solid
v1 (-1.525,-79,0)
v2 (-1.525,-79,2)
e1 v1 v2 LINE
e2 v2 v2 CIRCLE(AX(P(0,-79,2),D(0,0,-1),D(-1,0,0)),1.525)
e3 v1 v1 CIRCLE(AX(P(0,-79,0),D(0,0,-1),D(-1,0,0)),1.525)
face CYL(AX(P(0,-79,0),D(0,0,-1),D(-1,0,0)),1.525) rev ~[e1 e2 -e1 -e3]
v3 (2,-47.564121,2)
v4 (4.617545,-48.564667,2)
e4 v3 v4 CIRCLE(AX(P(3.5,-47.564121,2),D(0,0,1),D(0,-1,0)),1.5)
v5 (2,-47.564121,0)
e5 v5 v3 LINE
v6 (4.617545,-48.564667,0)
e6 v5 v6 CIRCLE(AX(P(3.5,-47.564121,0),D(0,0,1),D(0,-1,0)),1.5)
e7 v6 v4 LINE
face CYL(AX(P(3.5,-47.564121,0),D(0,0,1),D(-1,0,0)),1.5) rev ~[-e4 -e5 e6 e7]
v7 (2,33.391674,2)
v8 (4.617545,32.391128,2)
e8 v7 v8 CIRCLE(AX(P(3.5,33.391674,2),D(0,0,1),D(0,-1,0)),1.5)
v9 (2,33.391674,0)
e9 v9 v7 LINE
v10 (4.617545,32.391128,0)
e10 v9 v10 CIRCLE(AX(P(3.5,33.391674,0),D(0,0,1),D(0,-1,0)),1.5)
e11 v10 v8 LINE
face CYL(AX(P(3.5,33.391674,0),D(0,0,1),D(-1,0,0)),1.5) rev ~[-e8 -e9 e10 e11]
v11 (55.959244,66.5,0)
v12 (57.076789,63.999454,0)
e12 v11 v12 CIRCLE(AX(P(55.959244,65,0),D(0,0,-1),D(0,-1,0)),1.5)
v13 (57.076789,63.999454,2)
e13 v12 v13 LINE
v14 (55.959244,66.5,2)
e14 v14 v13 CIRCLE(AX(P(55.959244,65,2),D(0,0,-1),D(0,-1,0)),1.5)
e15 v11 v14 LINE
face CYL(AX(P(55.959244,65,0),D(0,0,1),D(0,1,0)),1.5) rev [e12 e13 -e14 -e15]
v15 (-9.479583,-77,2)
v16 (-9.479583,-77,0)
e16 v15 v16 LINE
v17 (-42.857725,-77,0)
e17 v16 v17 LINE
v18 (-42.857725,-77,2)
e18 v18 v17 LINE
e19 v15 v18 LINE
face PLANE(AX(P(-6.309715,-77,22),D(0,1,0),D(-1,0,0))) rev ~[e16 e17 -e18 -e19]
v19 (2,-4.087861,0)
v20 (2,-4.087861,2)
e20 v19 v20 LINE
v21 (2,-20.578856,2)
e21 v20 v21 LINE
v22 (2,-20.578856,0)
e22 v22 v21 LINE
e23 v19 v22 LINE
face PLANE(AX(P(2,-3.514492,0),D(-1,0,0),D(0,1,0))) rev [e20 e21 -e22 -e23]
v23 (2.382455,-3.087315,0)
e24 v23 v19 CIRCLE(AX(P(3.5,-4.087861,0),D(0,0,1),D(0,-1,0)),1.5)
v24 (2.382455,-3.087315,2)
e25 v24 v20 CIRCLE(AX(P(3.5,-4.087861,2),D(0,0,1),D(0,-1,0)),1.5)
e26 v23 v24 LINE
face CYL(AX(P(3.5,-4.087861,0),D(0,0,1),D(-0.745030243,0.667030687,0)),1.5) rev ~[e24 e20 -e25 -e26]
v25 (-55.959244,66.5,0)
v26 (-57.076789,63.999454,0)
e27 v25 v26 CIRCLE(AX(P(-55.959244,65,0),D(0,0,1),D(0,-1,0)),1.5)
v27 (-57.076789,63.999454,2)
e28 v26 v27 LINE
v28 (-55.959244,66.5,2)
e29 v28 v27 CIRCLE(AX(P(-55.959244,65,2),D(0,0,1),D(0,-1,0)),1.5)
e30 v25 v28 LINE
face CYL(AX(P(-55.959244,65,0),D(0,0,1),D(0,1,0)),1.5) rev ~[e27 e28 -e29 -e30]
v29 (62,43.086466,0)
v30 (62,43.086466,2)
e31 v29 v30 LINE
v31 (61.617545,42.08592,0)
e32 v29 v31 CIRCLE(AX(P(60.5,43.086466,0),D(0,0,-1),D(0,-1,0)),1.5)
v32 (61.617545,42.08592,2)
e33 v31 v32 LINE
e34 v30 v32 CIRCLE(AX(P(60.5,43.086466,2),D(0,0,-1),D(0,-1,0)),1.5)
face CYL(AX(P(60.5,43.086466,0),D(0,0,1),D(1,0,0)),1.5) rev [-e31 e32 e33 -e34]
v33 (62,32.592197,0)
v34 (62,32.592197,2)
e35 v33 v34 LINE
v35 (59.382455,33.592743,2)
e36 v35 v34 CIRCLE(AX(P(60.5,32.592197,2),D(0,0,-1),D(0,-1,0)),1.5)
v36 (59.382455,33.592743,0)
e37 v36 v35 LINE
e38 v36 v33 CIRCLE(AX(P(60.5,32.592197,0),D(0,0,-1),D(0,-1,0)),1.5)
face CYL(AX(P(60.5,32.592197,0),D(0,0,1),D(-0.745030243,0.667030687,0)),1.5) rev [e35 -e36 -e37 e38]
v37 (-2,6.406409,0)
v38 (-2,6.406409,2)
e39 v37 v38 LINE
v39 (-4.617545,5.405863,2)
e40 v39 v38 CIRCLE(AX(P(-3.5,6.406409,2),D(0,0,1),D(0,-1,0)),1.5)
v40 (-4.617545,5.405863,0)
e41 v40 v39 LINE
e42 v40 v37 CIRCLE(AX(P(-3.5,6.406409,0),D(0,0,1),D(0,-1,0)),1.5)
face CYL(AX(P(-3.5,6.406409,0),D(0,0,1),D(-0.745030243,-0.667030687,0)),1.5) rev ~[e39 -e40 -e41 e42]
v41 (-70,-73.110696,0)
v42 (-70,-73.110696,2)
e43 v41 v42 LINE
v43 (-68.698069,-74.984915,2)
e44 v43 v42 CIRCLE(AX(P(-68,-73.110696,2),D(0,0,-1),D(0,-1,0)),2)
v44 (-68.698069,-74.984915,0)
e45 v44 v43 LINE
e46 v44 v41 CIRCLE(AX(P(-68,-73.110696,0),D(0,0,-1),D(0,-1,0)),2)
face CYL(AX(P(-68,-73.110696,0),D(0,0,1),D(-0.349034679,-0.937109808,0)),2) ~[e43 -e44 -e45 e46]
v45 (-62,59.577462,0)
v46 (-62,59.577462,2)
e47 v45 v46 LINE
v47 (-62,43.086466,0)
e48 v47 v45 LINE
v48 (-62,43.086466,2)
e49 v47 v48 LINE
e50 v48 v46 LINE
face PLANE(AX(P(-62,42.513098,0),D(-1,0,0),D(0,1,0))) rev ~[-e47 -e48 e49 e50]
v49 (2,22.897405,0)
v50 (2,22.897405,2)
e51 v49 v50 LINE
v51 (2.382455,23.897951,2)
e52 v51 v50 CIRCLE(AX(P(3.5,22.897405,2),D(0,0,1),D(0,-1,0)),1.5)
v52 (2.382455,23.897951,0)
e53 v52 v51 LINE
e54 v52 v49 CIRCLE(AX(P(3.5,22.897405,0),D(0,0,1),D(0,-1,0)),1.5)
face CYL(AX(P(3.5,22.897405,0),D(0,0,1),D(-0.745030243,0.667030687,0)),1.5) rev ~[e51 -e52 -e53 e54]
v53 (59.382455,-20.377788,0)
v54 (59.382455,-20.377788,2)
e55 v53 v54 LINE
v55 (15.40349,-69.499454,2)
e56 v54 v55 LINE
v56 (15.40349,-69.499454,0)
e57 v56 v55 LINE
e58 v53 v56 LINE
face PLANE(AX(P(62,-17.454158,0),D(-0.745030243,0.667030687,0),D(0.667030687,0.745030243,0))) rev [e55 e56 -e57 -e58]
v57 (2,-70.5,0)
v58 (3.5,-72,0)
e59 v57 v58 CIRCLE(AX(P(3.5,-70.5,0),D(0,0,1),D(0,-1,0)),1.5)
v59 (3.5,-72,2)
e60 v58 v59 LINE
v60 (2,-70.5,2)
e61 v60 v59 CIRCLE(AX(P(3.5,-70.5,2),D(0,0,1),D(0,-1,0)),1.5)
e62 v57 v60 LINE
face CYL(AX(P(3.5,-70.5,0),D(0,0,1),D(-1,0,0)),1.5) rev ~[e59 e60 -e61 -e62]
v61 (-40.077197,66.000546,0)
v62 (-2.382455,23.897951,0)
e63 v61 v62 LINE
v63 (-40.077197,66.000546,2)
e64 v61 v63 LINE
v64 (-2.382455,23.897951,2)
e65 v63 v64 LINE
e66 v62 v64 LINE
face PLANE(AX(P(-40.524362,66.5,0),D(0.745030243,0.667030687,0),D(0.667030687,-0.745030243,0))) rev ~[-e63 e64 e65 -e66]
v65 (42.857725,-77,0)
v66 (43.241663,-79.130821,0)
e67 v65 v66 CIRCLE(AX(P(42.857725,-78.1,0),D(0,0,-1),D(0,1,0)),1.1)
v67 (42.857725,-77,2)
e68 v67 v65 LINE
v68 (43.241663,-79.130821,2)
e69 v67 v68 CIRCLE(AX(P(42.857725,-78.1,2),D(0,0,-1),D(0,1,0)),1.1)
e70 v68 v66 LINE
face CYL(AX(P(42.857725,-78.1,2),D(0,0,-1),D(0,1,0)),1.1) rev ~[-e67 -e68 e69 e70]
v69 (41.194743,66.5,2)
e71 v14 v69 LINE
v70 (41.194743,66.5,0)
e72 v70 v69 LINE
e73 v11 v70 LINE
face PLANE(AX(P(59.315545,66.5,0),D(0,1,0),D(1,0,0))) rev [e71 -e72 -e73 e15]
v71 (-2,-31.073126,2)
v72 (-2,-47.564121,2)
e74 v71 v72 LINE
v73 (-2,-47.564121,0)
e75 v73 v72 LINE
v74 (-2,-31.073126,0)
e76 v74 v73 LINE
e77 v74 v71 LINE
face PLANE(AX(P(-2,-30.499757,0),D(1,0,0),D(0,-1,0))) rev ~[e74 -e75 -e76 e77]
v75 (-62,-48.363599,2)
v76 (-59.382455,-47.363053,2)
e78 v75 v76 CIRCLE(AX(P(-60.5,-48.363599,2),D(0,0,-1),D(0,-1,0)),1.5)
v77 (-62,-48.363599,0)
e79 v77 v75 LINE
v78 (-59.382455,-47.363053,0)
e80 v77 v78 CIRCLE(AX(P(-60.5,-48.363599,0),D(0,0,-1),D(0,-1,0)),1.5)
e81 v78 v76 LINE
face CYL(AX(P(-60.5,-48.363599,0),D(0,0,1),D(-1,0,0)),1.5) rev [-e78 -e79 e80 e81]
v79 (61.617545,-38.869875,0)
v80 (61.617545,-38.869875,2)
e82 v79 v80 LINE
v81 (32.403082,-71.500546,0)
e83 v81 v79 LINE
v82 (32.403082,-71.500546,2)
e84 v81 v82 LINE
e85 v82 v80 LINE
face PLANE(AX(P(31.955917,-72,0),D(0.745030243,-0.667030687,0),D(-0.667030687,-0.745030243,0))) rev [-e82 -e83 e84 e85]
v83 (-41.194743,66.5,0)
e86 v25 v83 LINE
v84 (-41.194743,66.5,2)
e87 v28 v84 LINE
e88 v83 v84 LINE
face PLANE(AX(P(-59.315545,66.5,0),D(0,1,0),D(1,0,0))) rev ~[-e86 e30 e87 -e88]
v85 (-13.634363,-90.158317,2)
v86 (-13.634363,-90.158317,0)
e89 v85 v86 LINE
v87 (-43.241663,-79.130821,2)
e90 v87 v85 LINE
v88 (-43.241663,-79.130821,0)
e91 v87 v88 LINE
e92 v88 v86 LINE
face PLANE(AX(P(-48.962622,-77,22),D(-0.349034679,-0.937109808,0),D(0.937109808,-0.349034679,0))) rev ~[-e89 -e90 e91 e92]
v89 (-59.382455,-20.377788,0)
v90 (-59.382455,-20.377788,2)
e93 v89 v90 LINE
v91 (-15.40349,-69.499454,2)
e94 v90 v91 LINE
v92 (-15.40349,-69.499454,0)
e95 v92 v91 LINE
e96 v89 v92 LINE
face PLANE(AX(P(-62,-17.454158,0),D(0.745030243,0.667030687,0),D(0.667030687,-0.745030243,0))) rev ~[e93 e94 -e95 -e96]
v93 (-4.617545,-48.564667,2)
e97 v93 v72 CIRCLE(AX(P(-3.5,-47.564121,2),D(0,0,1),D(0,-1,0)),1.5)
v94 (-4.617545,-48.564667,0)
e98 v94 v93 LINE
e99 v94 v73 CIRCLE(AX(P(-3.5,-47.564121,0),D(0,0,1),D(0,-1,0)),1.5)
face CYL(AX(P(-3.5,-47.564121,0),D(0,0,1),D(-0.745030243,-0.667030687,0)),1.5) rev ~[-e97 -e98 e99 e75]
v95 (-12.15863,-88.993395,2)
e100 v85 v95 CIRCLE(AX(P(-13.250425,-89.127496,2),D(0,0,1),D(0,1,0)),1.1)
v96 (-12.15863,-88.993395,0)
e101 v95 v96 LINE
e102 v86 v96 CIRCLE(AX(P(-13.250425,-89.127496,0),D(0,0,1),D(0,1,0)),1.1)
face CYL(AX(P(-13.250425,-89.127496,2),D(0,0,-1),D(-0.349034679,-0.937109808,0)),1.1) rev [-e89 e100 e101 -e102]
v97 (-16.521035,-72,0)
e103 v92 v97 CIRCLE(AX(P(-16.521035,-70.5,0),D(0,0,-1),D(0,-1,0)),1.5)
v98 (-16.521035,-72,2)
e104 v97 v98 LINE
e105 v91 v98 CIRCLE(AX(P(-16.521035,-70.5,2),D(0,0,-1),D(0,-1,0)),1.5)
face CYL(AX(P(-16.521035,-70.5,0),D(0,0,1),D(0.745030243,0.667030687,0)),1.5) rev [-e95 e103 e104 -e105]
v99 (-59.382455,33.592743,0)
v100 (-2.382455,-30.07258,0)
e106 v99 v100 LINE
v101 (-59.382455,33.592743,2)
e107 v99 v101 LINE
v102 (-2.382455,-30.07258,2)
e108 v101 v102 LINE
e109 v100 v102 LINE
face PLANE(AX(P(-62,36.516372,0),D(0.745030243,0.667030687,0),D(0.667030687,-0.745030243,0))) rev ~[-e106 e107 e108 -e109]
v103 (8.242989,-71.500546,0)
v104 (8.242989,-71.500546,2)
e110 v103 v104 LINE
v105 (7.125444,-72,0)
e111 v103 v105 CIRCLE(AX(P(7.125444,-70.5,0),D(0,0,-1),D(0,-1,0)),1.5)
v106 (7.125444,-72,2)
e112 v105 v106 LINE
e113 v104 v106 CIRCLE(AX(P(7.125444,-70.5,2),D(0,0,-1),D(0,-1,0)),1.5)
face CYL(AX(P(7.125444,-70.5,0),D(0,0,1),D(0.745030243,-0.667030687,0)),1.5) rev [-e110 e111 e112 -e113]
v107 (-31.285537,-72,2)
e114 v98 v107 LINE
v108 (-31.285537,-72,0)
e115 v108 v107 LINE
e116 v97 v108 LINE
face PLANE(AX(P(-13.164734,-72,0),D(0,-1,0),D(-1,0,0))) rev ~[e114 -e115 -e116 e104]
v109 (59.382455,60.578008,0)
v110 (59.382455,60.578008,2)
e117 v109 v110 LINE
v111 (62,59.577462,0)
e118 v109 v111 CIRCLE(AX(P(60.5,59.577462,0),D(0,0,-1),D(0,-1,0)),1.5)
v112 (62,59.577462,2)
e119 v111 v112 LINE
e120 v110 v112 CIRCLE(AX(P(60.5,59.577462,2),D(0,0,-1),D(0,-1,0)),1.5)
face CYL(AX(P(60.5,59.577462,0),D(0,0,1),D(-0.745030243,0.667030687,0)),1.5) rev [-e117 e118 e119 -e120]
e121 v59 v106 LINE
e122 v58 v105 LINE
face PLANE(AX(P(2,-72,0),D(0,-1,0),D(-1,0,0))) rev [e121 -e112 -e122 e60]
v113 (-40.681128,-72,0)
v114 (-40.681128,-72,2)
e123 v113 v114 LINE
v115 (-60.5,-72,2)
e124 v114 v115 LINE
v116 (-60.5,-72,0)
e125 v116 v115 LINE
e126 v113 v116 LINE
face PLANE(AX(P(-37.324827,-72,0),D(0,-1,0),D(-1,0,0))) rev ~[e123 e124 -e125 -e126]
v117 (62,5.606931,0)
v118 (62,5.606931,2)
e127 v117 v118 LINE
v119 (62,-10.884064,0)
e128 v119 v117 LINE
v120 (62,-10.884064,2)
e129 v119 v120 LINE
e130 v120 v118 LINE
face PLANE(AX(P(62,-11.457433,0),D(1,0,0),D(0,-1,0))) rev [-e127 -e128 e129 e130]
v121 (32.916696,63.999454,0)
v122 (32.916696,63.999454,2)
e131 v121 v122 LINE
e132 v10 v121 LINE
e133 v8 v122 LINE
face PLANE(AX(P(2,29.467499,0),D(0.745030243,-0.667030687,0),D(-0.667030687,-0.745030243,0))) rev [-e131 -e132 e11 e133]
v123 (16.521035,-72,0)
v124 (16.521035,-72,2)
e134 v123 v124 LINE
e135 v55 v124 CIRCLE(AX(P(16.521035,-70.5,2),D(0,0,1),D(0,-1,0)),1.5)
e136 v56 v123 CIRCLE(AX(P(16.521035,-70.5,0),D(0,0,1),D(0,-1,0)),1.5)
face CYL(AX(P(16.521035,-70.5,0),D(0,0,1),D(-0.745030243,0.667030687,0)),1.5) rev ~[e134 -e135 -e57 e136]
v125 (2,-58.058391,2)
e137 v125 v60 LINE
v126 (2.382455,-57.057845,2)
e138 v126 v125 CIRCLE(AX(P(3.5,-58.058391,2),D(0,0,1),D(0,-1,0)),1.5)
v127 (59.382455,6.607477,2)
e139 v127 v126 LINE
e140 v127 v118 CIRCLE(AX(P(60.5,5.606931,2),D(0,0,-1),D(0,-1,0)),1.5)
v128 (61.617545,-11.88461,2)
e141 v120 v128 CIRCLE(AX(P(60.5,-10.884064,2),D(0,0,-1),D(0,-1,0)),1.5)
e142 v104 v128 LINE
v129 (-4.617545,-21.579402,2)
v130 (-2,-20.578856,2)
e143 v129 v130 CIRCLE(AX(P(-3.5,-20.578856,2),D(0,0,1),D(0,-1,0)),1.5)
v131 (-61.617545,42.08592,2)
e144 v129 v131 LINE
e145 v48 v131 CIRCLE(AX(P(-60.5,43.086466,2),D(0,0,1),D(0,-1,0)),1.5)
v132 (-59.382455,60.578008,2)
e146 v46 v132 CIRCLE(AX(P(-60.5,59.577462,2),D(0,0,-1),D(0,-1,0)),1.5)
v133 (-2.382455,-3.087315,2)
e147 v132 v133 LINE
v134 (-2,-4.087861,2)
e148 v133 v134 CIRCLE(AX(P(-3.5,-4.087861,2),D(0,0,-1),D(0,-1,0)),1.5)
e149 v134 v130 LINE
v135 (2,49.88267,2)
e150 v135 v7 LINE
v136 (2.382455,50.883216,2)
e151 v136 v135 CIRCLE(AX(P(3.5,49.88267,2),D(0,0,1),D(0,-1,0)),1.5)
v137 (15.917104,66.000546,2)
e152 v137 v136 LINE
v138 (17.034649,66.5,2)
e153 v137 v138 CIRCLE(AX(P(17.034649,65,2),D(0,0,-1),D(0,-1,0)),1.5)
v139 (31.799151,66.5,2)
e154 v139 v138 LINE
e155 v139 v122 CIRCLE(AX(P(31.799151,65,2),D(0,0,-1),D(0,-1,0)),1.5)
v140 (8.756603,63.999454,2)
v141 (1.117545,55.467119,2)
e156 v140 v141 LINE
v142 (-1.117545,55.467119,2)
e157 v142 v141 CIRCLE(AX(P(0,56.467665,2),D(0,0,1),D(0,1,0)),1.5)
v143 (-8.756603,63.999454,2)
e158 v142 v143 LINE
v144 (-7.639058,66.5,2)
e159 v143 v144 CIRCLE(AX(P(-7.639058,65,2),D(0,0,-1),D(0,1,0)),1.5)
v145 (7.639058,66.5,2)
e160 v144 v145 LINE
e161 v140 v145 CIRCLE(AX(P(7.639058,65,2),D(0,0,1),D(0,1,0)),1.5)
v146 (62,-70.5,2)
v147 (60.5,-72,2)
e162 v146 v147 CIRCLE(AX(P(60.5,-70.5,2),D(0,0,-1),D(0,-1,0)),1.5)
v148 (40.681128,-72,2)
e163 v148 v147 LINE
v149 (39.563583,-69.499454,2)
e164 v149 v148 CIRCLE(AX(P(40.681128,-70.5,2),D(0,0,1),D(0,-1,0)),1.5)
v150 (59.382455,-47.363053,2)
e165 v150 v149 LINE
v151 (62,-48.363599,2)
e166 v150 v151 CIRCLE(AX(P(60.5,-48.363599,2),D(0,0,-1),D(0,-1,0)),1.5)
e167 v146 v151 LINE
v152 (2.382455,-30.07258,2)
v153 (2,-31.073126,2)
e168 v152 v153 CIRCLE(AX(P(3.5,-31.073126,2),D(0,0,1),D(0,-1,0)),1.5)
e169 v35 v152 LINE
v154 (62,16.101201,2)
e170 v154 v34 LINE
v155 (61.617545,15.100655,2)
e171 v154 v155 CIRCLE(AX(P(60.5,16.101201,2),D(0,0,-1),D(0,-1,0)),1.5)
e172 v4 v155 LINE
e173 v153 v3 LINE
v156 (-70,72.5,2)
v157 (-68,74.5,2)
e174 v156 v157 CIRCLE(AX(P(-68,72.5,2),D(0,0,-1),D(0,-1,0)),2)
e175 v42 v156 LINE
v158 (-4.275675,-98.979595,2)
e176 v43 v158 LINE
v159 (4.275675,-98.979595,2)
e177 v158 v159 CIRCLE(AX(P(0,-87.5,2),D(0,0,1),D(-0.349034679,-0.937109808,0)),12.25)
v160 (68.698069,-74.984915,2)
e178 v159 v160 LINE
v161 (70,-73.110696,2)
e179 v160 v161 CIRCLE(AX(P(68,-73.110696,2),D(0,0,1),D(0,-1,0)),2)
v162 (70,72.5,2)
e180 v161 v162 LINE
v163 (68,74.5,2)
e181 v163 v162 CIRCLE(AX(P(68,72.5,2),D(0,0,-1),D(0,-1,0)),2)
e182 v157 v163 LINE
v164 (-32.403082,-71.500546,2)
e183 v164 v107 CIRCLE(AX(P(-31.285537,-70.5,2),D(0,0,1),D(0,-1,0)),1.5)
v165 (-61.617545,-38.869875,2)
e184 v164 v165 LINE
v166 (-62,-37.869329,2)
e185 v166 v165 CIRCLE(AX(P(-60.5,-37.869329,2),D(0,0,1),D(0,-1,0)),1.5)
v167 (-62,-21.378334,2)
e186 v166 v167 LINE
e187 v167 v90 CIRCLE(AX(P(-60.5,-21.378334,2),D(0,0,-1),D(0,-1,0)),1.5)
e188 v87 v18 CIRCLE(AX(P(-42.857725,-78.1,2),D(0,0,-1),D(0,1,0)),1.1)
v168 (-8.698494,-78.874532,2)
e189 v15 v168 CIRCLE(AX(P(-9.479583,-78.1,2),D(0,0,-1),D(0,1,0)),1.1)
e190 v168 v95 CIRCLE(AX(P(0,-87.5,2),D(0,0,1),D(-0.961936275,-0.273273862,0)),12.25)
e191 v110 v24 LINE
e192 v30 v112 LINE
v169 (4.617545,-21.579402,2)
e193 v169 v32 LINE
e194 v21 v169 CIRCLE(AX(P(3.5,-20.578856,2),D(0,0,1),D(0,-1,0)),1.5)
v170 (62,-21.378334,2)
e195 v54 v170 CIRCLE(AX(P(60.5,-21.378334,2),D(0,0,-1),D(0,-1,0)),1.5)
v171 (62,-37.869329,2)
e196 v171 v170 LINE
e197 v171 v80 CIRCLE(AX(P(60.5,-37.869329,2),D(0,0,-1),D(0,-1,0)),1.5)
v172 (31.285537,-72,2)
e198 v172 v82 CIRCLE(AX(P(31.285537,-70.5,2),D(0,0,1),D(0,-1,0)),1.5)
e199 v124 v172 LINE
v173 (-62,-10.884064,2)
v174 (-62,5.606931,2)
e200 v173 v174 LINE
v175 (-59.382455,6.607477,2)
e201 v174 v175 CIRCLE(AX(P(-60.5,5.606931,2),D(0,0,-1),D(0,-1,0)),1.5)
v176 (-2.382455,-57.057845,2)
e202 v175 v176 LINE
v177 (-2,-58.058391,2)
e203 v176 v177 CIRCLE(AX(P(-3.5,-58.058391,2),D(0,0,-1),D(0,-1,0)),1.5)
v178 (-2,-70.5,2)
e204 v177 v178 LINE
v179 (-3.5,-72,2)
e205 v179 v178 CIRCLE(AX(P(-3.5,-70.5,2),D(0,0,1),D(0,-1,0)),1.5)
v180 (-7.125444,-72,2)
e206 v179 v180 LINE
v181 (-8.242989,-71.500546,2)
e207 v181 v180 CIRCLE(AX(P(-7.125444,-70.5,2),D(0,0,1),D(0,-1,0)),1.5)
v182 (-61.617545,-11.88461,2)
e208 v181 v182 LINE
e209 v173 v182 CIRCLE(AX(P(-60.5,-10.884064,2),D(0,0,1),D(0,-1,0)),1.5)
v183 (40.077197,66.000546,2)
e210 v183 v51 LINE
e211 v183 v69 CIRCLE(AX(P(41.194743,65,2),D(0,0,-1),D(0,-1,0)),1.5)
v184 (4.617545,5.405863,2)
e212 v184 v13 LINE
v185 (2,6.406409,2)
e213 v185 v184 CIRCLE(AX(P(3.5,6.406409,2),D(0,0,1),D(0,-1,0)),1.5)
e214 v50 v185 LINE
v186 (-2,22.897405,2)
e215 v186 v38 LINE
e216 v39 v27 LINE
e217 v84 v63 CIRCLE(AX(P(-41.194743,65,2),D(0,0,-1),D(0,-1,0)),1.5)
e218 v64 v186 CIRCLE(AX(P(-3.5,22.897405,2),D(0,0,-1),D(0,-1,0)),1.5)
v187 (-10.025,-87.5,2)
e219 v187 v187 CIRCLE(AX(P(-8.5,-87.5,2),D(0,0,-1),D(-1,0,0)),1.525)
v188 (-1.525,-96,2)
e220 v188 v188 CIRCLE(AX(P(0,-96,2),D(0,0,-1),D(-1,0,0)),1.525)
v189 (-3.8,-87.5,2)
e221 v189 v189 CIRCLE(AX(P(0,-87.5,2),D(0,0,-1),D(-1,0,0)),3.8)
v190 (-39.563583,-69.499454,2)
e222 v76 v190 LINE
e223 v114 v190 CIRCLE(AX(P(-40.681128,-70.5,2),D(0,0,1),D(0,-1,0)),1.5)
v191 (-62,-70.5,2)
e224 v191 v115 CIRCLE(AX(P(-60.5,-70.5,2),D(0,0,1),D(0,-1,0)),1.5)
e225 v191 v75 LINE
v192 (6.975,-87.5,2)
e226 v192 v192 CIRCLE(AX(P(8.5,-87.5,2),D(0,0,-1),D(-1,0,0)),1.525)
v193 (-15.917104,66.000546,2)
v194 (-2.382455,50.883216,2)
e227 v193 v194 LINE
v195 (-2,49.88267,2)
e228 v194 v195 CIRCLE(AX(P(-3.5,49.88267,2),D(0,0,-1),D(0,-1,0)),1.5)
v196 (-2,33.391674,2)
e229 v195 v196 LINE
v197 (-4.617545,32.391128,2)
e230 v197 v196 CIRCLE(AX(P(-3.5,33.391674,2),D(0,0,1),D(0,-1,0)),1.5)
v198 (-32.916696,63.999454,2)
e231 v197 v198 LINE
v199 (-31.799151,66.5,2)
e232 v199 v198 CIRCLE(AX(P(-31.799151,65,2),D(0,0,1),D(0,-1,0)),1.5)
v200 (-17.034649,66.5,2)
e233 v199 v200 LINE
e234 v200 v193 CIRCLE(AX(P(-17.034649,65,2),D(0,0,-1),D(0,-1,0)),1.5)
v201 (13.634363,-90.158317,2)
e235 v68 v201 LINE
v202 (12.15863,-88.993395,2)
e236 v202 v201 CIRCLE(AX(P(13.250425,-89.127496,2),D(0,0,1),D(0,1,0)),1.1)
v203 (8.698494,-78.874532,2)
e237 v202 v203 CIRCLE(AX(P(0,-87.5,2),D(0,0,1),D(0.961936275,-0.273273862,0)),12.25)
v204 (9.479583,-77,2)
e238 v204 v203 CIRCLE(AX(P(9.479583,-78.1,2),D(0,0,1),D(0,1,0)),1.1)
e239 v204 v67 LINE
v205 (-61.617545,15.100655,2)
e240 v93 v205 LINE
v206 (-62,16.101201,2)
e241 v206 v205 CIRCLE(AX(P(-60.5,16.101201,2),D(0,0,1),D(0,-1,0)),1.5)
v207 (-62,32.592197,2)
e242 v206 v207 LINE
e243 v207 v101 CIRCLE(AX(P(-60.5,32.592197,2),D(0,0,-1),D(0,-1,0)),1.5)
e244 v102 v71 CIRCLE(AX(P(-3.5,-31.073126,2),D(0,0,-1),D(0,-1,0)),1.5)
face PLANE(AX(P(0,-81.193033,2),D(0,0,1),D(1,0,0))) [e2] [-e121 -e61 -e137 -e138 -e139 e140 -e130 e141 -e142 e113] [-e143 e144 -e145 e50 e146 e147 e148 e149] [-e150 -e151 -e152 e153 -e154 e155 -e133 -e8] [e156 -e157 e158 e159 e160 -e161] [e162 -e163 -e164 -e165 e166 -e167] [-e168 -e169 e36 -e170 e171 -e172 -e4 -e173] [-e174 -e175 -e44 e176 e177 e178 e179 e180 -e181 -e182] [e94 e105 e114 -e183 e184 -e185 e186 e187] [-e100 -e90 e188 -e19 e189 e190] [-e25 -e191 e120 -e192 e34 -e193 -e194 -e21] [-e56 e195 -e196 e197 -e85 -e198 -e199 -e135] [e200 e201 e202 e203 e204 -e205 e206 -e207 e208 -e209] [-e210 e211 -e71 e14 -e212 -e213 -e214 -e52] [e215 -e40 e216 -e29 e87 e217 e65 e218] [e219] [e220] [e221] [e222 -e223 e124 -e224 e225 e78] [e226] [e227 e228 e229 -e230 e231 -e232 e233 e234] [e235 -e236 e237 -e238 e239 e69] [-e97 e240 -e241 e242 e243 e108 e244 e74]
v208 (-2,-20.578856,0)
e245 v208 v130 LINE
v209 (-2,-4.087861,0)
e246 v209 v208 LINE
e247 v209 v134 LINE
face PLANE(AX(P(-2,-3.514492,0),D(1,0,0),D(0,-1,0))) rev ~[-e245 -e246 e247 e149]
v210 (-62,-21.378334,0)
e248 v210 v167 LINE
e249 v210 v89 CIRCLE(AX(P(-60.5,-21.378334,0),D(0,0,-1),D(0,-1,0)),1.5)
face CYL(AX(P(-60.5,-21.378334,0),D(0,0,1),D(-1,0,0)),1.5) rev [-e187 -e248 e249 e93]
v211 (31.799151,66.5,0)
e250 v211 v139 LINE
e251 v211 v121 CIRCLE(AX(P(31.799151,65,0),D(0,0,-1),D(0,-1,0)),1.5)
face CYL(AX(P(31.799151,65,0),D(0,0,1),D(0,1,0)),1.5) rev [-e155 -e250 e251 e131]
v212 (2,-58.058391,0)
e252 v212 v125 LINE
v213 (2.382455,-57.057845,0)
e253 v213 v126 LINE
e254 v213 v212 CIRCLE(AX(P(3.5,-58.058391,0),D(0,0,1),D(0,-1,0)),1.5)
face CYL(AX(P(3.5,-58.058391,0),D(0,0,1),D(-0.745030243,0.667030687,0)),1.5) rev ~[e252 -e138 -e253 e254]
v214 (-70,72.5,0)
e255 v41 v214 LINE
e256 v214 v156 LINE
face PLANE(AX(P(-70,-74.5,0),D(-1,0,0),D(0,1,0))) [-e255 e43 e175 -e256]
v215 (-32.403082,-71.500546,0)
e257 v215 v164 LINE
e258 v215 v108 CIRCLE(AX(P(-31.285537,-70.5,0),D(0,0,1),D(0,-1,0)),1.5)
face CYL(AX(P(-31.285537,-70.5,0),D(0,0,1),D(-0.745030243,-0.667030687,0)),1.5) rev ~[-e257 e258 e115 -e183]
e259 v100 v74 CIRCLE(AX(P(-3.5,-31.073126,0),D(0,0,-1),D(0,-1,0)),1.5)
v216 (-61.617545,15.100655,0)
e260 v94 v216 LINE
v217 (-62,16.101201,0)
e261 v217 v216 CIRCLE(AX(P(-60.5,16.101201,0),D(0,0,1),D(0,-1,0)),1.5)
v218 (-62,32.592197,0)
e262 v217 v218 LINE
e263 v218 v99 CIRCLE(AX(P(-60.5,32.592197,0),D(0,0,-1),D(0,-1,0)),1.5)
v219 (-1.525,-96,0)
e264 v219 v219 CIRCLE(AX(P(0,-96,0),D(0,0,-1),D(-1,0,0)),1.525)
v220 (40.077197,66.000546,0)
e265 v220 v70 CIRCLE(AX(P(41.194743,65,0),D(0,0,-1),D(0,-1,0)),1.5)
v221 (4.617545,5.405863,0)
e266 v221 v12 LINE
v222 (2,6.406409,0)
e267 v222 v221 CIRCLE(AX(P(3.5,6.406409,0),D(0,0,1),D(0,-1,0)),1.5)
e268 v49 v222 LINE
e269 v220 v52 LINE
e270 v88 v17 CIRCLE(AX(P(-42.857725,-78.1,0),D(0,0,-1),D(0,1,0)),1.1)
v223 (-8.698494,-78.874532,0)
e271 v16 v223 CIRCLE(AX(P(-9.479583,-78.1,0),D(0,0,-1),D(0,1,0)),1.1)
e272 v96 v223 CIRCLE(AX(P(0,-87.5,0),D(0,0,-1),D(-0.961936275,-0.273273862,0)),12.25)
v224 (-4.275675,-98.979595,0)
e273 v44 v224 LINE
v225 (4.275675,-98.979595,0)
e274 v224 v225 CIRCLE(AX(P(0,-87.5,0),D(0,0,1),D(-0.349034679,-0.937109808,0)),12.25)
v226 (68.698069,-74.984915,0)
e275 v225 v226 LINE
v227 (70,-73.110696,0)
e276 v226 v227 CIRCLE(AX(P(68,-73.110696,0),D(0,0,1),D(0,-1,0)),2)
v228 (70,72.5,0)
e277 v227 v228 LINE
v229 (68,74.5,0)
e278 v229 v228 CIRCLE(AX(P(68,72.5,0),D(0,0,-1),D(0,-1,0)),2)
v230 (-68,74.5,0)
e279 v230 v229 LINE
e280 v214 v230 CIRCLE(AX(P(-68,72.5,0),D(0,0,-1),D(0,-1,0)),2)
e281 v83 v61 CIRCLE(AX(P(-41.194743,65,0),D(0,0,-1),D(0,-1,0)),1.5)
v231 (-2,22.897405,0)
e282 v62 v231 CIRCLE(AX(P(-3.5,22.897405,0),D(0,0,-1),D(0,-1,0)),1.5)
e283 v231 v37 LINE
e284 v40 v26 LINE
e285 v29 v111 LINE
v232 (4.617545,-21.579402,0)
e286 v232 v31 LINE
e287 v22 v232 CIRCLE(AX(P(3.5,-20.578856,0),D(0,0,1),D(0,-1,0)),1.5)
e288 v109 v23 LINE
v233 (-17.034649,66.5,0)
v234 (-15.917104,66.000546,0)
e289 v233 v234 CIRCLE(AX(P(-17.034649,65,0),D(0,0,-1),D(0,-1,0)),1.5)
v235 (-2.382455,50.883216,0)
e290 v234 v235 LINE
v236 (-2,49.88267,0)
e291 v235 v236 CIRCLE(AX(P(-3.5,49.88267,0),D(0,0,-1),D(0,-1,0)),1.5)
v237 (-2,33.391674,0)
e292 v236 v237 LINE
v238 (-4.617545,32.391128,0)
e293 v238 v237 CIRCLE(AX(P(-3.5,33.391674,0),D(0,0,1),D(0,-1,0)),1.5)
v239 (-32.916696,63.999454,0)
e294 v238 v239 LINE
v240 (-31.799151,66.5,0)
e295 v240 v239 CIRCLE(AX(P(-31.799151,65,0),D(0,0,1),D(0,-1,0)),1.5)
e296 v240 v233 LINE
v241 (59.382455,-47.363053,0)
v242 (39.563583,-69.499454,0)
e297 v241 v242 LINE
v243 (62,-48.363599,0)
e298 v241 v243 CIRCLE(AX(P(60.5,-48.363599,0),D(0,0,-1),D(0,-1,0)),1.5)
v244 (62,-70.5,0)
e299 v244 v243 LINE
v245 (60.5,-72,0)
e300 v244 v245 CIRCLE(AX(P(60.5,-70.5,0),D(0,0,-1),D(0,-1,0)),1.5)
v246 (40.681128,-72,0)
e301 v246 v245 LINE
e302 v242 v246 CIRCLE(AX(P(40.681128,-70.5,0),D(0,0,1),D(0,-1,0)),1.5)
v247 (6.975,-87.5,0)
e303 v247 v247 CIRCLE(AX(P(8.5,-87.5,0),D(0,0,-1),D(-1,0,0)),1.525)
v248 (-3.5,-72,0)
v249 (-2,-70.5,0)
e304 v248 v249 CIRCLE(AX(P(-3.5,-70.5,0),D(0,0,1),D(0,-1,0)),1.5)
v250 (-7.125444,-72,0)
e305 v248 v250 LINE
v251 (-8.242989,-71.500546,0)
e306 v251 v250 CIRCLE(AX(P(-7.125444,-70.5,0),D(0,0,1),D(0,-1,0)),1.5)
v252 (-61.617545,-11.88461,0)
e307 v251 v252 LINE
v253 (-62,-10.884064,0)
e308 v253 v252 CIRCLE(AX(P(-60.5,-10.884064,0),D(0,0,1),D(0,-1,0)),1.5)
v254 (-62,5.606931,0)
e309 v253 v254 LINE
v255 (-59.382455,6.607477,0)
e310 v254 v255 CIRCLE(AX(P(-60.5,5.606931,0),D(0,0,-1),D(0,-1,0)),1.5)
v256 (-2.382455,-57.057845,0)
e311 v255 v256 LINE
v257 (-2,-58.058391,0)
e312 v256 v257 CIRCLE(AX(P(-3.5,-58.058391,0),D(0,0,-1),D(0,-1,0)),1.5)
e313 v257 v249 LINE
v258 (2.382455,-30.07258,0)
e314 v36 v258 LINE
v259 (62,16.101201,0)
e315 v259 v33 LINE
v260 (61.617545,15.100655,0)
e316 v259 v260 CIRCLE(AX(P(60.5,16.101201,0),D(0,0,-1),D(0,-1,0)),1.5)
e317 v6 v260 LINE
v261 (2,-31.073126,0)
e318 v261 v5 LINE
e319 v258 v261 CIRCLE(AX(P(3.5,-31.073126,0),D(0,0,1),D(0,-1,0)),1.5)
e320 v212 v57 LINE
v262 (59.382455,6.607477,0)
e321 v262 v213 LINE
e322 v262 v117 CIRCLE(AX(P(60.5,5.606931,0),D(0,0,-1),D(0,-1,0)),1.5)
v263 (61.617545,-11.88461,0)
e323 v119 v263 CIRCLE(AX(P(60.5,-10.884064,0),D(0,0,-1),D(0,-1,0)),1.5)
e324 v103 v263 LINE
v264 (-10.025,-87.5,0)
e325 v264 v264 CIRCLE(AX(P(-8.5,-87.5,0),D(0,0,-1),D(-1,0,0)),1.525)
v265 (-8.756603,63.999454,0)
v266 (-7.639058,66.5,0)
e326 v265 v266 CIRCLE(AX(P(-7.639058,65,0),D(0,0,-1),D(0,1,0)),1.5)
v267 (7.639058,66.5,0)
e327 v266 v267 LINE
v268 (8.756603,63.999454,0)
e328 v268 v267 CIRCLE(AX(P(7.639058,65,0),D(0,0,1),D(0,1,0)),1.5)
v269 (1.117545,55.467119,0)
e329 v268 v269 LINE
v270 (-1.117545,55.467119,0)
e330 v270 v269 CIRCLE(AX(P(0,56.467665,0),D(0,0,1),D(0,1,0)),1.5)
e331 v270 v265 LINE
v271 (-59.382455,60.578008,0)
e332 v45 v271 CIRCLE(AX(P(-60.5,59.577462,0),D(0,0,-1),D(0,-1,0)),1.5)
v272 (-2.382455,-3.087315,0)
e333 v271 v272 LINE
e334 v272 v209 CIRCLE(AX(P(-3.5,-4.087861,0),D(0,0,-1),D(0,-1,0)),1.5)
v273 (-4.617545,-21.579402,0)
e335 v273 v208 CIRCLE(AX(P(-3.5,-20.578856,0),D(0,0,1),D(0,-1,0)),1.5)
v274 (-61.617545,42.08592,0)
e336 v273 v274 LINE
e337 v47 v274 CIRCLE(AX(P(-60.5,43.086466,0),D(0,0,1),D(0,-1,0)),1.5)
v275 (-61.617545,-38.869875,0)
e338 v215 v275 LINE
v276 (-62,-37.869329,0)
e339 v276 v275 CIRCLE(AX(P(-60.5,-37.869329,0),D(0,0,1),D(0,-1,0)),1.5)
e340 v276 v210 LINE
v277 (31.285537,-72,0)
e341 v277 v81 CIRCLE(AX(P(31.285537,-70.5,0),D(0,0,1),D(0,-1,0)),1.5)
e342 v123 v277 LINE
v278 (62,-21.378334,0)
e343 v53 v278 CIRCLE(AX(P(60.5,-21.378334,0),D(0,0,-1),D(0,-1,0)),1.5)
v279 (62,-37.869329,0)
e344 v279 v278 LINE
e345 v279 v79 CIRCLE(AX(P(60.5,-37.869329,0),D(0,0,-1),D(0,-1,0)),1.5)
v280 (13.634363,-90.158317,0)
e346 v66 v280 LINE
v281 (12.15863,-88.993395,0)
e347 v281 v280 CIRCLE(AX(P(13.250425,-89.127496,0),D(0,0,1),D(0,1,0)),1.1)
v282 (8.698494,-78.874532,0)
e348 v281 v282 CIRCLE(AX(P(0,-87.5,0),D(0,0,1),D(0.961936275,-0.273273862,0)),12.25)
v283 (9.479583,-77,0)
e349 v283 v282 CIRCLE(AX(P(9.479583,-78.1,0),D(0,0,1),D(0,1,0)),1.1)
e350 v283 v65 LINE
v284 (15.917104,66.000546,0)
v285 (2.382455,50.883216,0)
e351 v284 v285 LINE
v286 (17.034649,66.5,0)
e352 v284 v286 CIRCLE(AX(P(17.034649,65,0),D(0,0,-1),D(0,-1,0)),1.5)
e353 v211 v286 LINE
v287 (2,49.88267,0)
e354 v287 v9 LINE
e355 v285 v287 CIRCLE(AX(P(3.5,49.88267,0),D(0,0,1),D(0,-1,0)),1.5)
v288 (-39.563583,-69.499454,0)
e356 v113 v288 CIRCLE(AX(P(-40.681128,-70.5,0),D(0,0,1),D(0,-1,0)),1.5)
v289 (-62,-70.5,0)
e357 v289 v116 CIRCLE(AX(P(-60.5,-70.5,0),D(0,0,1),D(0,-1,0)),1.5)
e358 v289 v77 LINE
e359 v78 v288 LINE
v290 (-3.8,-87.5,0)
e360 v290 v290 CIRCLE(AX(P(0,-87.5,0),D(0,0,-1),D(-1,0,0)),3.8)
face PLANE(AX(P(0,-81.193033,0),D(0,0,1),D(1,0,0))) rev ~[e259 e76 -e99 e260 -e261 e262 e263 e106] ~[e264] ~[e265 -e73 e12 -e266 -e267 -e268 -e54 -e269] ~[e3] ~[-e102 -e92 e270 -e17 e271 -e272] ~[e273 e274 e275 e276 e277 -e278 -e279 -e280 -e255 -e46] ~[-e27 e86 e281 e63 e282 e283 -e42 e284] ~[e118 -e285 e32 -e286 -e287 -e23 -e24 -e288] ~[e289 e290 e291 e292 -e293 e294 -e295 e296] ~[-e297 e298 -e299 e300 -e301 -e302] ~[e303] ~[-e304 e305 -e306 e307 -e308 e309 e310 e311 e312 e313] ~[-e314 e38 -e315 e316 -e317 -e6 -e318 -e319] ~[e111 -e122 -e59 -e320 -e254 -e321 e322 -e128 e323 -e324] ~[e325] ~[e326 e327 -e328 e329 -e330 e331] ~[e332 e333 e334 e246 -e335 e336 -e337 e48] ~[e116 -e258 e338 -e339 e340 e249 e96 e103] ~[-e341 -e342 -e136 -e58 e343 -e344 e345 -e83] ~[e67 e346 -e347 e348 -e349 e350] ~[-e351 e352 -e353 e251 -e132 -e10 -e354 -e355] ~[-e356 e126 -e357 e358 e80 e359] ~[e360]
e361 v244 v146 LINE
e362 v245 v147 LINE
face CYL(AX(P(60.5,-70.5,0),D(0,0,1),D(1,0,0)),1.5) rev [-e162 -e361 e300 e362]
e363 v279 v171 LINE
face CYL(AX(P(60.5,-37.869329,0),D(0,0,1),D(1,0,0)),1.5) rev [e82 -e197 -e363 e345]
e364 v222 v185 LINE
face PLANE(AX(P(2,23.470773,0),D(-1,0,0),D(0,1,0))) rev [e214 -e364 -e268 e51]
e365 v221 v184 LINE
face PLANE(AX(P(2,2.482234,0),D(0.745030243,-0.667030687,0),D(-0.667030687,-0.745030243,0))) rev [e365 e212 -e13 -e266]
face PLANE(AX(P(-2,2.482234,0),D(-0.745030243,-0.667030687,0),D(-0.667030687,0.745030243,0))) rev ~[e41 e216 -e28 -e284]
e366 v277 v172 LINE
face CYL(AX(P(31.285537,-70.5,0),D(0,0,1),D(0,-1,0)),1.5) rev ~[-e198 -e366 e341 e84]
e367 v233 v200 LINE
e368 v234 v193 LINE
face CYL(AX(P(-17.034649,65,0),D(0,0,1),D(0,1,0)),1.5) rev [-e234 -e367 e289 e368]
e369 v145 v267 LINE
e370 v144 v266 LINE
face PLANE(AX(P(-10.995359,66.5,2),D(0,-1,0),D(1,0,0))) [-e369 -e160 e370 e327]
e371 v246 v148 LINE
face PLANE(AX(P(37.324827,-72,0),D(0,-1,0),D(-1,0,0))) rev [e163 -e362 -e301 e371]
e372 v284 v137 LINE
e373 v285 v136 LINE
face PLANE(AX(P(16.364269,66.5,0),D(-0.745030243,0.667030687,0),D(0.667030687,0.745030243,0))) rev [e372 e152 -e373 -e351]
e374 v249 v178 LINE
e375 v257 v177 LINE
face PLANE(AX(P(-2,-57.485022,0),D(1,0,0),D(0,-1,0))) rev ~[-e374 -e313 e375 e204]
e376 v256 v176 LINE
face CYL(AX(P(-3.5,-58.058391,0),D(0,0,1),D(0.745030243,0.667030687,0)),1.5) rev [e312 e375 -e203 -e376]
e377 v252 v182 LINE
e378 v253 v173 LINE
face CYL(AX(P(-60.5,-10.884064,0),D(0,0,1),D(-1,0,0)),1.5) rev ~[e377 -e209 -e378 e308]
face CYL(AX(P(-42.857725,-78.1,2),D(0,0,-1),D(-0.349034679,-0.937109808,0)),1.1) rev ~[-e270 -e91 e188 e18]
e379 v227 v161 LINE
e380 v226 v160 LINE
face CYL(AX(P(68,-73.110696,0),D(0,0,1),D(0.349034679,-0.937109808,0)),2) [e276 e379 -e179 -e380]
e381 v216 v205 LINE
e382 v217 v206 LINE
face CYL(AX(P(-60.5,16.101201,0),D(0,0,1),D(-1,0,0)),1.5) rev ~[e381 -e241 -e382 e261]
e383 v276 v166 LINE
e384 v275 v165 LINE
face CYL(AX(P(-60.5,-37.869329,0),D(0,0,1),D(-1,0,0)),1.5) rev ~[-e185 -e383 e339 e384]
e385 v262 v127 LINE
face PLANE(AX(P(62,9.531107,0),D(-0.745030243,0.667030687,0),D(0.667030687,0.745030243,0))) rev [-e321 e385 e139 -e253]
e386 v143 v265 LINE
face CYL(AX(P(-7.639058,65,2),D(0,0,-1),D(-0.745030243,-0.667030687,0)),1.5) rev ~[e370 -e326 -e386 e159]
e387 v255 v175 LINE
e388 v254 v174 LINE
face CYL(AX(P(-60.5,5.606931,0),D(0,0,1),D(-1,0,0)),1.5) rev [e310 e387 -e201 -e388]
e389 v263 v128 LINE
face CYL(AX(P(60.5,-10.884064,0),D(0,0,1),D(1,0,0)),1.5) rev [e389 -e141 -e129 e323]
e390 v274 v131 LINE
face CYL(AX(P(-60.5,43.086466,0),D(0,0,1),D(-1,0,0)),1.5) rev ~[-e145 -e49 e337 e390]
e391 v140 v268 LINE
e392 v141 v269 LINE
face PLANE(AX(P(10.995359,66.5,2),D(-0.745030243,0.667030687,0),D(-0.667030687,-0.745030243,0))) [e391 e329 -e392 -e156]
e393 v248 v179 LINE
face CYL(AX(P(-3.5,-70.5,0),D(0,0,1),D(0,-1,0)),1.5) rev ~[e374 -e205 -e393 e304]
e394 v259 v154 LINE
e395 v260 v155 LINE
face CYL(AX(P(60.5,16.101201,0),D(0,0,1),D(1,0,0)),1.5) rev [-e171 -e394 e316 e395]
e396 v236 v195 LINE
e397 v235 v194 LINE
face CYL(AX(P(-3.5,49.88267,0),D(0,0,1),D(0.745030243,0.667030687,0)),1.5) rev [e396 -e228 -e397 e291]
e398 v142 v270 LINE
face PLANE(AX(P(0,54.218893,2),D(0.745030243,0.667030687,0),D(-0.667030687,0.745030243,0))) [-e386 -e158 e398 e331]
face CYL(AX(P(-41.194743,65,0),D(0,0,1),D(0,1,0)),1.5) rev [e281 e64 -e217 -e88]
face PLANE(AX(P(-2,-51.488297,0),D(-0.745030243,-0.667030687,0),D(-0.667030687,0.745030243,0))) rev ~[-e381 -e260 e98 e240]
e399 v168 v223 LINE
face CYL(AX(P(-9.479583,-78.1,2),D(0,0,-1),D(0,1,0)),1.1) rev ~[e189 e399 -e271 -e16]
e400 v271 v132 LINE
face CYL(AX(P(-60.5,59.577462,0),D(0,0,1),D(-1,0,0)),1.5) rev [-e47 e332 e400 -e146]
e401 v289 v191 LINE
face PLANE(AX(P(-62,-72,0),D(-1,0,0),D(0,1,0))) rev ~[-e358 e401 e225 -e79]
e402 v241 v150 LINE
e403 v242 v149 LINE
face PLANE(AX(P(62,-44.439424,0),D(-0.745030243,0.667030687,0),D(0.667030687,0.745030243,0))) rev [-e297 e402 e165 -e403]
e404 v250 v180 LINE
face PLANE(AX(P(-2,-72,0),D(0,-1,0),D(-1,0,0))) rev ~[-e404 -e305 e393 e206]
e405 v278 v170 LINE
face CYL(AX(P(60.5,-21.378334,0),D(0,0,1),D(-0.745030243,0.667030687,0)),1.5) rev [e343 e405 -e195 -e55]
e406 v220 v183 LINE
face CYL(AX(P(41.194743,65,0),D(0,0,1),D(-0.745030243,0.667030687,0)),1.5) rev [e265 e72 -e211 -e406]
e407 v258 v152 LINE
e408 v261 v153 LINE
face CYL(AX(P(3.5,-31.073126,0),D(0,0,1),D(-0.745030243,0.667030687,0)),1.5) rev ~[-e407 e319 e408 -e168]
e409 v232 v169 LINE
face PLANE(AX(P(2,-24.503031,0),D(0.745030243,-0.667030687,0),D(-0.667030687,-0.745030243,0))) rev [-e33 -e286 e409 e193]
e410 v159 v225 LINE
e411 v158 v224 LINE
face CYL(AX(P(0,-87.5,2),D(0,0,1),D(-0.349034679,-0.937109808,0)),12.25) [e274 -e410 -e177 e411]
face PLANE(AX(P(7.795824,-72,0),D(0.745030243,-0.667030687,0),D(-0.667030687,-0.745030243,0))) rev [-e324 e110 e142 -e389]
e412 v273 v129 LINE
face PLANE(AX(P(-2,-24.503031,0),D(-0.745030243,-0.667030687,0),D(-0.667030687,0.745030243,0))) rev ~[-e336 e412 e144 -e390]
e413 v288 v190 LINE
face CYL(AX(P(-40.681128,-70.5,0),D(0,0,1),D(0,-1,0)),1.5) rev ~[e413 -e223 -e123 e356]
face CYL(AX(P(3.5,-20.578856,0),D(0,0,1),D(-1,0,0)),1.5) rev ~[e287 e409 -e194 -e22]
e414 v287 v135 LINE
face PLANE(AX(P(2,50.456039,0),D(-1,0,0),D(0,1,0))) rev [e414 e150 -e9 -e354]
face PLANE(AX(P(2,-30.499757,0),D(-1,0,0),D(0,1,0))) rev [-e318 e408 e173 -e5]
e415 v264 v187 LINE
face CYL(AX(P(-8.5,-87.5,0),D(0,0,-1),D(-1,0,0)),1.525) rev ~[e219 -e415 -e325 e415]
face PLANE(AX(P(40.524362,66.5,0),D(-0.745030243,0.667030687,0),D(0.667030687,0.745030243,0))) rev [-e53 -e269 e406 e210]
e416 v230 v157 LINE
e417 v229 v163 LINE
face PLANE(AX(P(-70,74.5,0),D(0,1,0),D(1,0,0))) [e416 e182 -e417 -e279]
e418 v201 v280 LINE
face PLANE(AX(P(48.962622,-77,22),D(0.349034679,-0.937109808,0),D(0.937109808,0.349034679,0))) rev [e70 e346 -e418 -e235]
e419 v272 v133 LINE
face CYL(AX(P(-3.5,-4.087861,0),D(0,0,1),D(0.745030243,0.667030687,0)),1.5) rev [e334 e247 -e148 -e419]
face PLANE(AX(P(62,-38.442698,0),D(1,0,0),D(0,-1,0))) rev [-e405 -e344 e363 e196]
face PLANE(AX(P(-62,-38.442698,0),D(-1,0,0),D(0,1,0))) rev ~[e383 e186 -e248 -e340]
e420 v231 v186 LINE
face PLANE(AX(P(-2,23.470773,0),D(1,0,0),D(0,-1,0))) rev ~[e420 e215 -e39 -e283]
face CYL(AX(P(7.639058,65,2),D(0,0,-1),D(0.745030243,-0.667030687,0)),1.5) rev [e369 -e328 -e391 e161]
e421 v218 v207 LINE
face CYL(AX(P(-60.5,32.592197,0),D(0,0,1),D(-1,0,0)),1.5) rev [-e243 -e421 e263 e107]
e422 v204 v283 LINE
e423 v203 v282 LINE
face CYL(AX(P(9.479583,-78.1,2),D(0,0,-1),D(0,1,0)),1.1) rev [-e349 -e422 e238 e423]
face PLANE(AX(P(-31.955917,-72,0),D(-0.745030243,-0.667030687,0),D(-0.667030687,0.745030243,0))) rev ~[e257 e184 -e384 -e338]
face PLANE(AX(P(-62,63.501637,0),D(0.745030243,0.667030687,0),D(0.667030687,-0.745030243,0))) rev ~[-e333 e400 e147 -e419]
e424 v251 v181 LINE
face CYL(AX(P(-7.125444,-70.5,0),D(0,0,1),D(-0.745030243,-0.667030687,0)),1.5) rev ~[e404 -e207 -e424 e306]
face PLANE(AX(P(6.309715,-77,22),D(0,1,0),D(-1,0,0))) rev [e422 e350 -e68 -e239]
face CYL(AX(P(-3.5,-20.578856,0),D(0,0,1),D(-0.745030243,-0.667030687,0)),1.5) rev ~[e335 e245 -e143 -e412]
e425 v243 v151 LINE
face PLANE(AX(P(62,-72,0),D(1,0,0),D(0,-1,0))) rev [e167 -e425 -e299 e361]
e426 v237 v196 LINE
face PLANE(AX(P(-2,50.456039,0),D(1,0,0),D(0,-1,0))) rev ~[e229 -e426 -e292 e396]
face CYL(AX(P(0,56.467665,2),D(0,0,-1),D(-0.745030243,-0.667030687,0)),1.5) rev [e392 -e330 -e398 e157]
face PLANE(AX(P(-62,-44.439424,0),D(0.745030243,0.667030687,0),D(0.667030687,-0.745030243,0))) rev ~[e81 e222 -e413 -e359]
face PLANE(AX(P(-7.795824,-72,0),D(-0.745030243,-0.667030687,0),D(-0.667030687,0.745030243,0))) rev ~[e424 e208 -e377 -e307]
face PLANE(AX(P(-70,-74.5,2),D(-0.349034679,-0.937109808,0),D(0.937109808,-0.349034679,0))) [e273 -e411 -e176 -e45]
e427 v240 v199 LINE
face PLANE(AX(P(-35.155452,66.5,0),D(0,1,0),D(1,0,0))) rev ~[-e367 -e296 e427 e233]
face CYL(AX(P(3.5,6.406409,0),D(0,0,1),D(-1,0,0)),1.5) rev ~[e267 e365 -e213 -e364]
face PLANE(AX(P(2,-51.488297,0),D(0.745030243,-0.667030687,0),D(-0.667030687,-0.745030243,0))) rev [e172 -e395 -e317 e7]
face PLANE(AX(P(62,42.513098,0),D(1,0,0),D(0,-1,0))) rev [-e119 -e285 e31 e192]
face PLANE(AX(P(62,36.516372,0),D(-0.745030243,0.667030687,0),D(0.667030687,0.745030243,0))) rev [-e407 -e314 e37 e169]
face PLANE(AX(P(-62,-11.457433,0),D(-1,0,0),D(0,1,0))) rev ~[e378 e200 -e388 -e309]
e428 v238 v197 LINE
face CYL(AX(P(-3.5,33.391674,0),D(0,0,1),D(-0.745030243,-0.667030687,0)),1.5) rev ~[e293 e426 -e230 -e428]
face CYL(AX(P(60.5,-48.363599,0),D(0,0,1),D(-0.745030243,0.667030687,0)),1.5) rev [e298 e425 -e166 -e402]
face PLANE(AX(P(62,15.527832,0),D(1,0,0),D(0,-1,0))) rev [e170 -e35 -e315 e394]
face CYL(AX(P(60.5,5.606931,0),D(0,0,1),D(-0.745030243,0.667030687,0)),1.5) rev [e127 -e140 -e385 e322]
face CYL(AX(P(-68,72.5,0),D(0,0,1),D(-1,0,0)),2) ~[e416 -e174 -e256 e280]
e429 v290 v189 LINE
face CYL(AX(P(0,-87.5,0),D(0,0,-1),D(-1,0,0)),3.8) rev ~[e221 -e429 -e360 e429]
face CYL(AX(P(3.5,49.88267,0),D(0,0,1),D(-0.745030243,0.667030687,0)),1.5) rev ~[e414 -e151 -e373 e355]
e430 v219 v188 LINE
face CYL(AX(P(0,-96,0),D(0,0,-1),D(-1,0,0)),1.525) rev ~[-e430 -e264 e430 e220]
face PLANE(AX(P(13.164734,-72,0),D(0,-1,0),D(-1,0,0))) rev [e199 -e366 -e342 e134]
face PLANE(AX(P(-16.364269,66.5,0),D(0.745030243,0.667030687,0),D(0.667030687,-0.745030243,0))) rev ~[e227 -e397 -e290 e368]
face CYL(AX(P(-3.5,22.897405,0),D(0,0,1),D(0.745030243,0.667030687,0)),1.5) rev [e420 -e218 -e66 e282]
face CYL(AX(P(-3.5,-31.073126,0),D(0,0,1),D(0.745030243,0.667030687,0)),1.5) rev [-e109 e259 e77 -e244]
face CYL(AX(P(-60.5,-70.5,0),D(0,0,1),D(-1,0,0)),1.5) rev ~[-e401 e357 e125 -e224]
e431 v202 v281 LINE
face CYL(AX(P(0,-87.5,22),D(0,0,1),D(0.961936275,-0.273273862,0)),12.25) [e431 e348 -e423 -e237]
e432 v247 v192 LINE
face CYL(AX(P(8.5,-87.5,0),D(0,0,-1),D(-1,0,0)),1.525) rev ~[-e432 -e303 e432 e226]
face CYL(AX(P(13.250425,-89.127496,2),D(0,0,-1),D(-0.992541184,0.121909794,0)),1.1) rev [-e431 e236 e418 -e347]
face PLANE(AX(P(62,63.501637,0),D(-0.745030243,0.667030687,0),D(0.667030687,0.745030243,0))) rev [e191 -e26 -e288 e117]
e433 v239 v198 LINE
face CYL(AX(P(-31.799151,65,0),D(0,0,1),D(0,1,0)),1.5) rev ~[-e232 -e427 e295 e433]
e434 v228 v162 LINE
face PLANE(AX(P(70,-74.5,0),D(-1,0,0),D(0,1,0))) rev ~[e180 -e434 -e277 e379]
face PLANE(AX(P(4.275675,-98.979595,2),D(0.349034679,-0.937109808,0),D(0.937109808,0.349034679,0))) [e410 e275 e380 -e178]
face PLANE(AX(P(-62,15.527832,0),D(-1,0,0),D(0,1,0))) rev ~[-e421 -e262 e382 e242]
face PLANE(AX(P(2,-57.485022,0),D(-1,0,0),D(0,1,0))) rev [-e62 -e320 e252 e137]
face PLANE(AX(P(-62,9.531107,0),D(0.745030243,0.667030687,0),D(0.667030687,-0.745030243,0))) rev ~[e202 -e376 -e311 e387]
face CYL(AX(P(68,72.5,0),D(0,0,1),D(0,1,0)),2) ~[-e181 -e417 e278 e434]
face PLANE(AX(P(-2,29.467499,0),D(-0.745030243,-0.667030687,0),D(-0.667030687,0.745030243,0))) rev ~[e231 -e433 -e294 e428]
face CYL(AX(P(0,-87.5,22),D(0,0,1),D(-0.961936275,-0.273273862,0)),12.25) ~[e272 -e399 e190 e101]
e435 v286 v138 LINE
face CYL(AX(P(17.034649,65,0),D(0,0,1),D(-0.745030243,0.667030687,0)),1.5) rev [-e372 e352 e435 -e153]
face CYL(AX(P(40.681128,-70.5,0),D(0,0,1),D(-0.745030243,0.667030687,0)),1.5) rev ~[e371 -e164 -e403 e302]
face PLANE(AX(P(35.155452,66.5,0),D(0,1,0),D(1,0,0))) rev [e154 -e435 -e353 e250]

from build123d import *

# Parameters (mm, degrees)
SKETCH_1_W          = 140
SKETCH_1_H          = 149
EXTRUDE_1_DEPTH     = 2
EXTRUDE_2_DEPTH     = 2
FILLET_1_R          = 2
SKETCH_4_R          = 1.525
CUT_EXTRUDE_1_DEPTH = 2
CUT_EXTRUDE_3_DEPTH = 2
CUT_EXTRUDE_4_DEPTH = 2
FILLET_3_R          = 1.5
SKETCH_7_R          = 3.8
CUT_EXTRUDE_5_DEPTH = 22
CUT_EXTRUDE_START   = -22
CUT_EXTRUDE_6_DEPTH = 22
FILLET_4_R          = 1.1


with BuildPart() as part:
    # 草图1 → 凸台-拉伸1 (new body)
    with BuildSketch(Plane.XY):
        Rectangle(SKETCH_1_W, SKETCH_1_H)
    extrude(amount=EXTRUDE_1_DEPTH)

    # 草图2 → 凸台-拉伸2 (add)
    with BuildSketch(Plane.XY.offset(2)):
        with BuildLine():
            Line((-70, -74.5), (-4.275674814, -98.979595153))
            ThreePointArc((-4.275674814, -98.979595153), (0, -99.75), (4.275674814, -98.979595153))
            Line((4.275674814, -98.979595153), (70, -74.5))
            Line((70, -74.5), (-70, -74.5))
        make_face()
    extrude(amount=-EXTRUDE_2_DEPTH)

    # 圆角1
    fillet_1_edges = [part.edges().sort_by_distance(p)[0] for p in [
        (70, -74.5, 1),
        (-70, -74.5, 1),
        (-70, 74.5, 1),
        (70, 74.5, 1),
    ]]
    fillet(fillet_1_edges, radius=FILLET_1_R)

    # 草图4 → 切除-拉伸1 (cut)
    with BuildSketch(Plane(origin=(0, 0, 0), x_dir=(-1, 0, 0), z_dir=(0, 0, -1))):
        with Locations((8.5, -87.5)):
            Circle(SKETCH_4_R)
        with Locations((0, -96)):
            Circle(SKETCH_4_R)
        with Locations((-8.5, -87.5)):
            Circle(SKETCH_4_R)
        with Locations((0, -79)):
            Circle(SKETCH_4_R)
    extrude(amount=-CUT_EXTRUDE_1_DEPTH, mode=Mode.SUBTRACT)

    # 草图5 → 切除-拉伸3 (cut)
    with BuildSketch(Plane(origin=(0, 0, 0), x_dir=(-1, 0, 0), z_dir=(0, 0, -1))):
        Polygon((62, -44.439423724), (37.324827016, -72), (62, -72), align=None)
        Polygon((62, -17.454158494), (13.164733958, -72), (31.955917448, -72), (62, -38.442698117), align=None)
        Polygon((62, 9.531106736), (2, -57.485022296), (2, -72), (7.79582439, -72), (62, -11.457432887), align=None)
        Polygon((62, 36.516371966), (2, -30.499757066), (2, -51.488296689), (62, 15.527832343), align=None)
        Polygon((62, 63.501637197), (2, -3.514491836), (2, -24.503031459), (62, 42.513097573), align=None)
        Polygon((40.524361726, 66.5), (2, 23.470773395), (2, 2.482233771), (59.315545216, 66.5), align=None)
        Polygon((16.364268668, 66.5), (2, 50.456038625), (2, 29.467499001), (35.155452158, 66.5), align=None)
    cut_extrude_3 = extrude(amount=-CUT_EXTRUDE_3_DEPTH, mode=Mode.SUBTRACT)

    # 镜向1: 切除-拉伸3 across plane
    add(cut_extrude_3.mirror(Plane(origin=(0, 0, 0), x_dir=(0, 0, 1), z_dir=(1, 0, 0))), mode=Mode.SUBTRACT)

    # 草图6 → 切除-拉伸4 (cut)
    with BuildSketch(Plane.XY.offset(2)):
        Polygon((-10.9953591, 66.5), (10.9953591, 66.5), (0, 54.218893264), align=None)
    extrude(amount=-CUT_EXTRUDE_4_DEPTH, mode=Mode.SUBTRACT)

    # 圆角3
    fillet_3_edges = [part.edges().sort_by_distance(p)[0] for p in [
        (-2, -30.499757066, 1),
        (-62, 36.516371966, 1),
        (-62, 15.527832343, 1),
        (-2, -51.488296689, 1),
        (-2, -3.514491836, 1),
        (-62, 63.501637197, 1),
        (-62, 42.513097573, 1),
        (-2, -24.503031459, 1),
        (-62, -38.442698117, 1),
        (-31.955917448, -72, 1),
        (-13.164733958, -72, 1),
        (-62, -17.454158494, 1),
        (-2, -57.485022296, 1),
        (-62, 9.531106736, 1),
        (-62, -11.457432887, 1),
        (-7.79582439, -72, 1),
        (-2, -72, 1),
        (-2, 50.456038625, 1),
        (-16.364268668, 66.5, 1),
        (-35.155452158, 66.5, 1),
        (-2, 29.467499001, 1),
        (-2, 23.470773395, 1),
        (-40.524361726, 66.5, 1),
        (-59.315545216, 66.5, 1),
        (-2, 2.482233771, 1),
        (-62, -44.439423724, 1),
        (-62, -72, 1),
        (-37.324827016, -72, 1),
        (62, 15.527832343, 1),
        (2, -51.488296689, 1),
        (2, -30.499757066, 1),
        (62, 36.516371966, 1),
        (62, 42.513097573, 1),
        (2, -24.503031459, 1),
        (2, -3.514491836, 1),
        (62, 63.501637197, 1),
        (13.164733958, -72, 1),
        (62, -17.454158494, 1),
        (62, -38.442698117, 1),
        (31.955917448, -72, 1),
        (62, -11.457432887, 1),
        (7.79582439, -72, 1),
        (2, -72, 1),
        (2, -57.485022296, 1),
        (62, 9.531106736, 1),
        (35.155452158, 66.5, 1),
        (2, 29.467499001, 1),
        (2, 50.456038625, 1),
        (16.364268668, 66.5, 1),
        (59.315545216, 66.5, 1),
        (2, 2.482233771, 1),
        (2, 23.470773395, 1),
        (40.524361726, 66.5, 1),
        (37.324827016, -72, 1),
        (62, -44.439423724, 1),
        (62, -72, 1),
        (10.9953591, 66.5, 1),
        (-10.9953591, 66.5, 1),
        (0, 54.218893264, 1),
    ]]
    fillet(fillet_3_edges, radius=FILLET_3_R)

    # 草图7 → 切除-拉伸5 (cut)
    with BuildSketch(Plane(origin=(0, 0, 0), x_dir=(-1, 0, 0), z_dir=(0, 0, -1))):
        with Locations((0, -87.5)):
            Circle(SKETCH_7_R)
    extrude(amount=-CUT_EXTRUDE_5_DEPTH, mode=Mode.SUBTRACT)

    # 草图8 → 切除-拉伸6 (cut)
    with BuildSketch(Plane(origin=(0, 0, 0), x_dir=(-1, 0, 0), z_dir=(0, 0, -1)).offset(CUT_EXTRUDE_START)):
        with BuildLine():
            Line((48.962621857, -77), (11.783719365, -90.847604805))
            ThreePointArc((11.783719365, -90.847604805), (11.392195972, -82.996626716), (6.309714732, -77))
            Line((6.309714732, -77), (48.962621857, -77))
        make_face()
    cut_extrude_6 = extrude(amount=CUT_EXTRUDE_6_DEPTH, mode=Mode.SUBTRACT)

    # 镜向2: 切除-拉伸6 across plane
    add(cut_extrude_6.mirror(Plane(origin=(0, 0, 0), x_dir=(0, 0, 1), z_dir=(1, 0, 0))), mode=Mode.SUBTRACT)

    # 圆角4
    fillet_4_edges = [part.edges().sort_by_distance(p)[0] for p in [
        (-6.309714732, -77, 1),
        (-48.962621857, -77, 1),
        (-11.783719365, -90.847604805, 1),
        (48.962621857, -77, 1),
        (6.309714732, -77, 1),
        (11.783719365, -90.847604805, 1),
    ]]
    fillet(fillet_4_edges, radius=FILLET_4_R)


solid = part.part
